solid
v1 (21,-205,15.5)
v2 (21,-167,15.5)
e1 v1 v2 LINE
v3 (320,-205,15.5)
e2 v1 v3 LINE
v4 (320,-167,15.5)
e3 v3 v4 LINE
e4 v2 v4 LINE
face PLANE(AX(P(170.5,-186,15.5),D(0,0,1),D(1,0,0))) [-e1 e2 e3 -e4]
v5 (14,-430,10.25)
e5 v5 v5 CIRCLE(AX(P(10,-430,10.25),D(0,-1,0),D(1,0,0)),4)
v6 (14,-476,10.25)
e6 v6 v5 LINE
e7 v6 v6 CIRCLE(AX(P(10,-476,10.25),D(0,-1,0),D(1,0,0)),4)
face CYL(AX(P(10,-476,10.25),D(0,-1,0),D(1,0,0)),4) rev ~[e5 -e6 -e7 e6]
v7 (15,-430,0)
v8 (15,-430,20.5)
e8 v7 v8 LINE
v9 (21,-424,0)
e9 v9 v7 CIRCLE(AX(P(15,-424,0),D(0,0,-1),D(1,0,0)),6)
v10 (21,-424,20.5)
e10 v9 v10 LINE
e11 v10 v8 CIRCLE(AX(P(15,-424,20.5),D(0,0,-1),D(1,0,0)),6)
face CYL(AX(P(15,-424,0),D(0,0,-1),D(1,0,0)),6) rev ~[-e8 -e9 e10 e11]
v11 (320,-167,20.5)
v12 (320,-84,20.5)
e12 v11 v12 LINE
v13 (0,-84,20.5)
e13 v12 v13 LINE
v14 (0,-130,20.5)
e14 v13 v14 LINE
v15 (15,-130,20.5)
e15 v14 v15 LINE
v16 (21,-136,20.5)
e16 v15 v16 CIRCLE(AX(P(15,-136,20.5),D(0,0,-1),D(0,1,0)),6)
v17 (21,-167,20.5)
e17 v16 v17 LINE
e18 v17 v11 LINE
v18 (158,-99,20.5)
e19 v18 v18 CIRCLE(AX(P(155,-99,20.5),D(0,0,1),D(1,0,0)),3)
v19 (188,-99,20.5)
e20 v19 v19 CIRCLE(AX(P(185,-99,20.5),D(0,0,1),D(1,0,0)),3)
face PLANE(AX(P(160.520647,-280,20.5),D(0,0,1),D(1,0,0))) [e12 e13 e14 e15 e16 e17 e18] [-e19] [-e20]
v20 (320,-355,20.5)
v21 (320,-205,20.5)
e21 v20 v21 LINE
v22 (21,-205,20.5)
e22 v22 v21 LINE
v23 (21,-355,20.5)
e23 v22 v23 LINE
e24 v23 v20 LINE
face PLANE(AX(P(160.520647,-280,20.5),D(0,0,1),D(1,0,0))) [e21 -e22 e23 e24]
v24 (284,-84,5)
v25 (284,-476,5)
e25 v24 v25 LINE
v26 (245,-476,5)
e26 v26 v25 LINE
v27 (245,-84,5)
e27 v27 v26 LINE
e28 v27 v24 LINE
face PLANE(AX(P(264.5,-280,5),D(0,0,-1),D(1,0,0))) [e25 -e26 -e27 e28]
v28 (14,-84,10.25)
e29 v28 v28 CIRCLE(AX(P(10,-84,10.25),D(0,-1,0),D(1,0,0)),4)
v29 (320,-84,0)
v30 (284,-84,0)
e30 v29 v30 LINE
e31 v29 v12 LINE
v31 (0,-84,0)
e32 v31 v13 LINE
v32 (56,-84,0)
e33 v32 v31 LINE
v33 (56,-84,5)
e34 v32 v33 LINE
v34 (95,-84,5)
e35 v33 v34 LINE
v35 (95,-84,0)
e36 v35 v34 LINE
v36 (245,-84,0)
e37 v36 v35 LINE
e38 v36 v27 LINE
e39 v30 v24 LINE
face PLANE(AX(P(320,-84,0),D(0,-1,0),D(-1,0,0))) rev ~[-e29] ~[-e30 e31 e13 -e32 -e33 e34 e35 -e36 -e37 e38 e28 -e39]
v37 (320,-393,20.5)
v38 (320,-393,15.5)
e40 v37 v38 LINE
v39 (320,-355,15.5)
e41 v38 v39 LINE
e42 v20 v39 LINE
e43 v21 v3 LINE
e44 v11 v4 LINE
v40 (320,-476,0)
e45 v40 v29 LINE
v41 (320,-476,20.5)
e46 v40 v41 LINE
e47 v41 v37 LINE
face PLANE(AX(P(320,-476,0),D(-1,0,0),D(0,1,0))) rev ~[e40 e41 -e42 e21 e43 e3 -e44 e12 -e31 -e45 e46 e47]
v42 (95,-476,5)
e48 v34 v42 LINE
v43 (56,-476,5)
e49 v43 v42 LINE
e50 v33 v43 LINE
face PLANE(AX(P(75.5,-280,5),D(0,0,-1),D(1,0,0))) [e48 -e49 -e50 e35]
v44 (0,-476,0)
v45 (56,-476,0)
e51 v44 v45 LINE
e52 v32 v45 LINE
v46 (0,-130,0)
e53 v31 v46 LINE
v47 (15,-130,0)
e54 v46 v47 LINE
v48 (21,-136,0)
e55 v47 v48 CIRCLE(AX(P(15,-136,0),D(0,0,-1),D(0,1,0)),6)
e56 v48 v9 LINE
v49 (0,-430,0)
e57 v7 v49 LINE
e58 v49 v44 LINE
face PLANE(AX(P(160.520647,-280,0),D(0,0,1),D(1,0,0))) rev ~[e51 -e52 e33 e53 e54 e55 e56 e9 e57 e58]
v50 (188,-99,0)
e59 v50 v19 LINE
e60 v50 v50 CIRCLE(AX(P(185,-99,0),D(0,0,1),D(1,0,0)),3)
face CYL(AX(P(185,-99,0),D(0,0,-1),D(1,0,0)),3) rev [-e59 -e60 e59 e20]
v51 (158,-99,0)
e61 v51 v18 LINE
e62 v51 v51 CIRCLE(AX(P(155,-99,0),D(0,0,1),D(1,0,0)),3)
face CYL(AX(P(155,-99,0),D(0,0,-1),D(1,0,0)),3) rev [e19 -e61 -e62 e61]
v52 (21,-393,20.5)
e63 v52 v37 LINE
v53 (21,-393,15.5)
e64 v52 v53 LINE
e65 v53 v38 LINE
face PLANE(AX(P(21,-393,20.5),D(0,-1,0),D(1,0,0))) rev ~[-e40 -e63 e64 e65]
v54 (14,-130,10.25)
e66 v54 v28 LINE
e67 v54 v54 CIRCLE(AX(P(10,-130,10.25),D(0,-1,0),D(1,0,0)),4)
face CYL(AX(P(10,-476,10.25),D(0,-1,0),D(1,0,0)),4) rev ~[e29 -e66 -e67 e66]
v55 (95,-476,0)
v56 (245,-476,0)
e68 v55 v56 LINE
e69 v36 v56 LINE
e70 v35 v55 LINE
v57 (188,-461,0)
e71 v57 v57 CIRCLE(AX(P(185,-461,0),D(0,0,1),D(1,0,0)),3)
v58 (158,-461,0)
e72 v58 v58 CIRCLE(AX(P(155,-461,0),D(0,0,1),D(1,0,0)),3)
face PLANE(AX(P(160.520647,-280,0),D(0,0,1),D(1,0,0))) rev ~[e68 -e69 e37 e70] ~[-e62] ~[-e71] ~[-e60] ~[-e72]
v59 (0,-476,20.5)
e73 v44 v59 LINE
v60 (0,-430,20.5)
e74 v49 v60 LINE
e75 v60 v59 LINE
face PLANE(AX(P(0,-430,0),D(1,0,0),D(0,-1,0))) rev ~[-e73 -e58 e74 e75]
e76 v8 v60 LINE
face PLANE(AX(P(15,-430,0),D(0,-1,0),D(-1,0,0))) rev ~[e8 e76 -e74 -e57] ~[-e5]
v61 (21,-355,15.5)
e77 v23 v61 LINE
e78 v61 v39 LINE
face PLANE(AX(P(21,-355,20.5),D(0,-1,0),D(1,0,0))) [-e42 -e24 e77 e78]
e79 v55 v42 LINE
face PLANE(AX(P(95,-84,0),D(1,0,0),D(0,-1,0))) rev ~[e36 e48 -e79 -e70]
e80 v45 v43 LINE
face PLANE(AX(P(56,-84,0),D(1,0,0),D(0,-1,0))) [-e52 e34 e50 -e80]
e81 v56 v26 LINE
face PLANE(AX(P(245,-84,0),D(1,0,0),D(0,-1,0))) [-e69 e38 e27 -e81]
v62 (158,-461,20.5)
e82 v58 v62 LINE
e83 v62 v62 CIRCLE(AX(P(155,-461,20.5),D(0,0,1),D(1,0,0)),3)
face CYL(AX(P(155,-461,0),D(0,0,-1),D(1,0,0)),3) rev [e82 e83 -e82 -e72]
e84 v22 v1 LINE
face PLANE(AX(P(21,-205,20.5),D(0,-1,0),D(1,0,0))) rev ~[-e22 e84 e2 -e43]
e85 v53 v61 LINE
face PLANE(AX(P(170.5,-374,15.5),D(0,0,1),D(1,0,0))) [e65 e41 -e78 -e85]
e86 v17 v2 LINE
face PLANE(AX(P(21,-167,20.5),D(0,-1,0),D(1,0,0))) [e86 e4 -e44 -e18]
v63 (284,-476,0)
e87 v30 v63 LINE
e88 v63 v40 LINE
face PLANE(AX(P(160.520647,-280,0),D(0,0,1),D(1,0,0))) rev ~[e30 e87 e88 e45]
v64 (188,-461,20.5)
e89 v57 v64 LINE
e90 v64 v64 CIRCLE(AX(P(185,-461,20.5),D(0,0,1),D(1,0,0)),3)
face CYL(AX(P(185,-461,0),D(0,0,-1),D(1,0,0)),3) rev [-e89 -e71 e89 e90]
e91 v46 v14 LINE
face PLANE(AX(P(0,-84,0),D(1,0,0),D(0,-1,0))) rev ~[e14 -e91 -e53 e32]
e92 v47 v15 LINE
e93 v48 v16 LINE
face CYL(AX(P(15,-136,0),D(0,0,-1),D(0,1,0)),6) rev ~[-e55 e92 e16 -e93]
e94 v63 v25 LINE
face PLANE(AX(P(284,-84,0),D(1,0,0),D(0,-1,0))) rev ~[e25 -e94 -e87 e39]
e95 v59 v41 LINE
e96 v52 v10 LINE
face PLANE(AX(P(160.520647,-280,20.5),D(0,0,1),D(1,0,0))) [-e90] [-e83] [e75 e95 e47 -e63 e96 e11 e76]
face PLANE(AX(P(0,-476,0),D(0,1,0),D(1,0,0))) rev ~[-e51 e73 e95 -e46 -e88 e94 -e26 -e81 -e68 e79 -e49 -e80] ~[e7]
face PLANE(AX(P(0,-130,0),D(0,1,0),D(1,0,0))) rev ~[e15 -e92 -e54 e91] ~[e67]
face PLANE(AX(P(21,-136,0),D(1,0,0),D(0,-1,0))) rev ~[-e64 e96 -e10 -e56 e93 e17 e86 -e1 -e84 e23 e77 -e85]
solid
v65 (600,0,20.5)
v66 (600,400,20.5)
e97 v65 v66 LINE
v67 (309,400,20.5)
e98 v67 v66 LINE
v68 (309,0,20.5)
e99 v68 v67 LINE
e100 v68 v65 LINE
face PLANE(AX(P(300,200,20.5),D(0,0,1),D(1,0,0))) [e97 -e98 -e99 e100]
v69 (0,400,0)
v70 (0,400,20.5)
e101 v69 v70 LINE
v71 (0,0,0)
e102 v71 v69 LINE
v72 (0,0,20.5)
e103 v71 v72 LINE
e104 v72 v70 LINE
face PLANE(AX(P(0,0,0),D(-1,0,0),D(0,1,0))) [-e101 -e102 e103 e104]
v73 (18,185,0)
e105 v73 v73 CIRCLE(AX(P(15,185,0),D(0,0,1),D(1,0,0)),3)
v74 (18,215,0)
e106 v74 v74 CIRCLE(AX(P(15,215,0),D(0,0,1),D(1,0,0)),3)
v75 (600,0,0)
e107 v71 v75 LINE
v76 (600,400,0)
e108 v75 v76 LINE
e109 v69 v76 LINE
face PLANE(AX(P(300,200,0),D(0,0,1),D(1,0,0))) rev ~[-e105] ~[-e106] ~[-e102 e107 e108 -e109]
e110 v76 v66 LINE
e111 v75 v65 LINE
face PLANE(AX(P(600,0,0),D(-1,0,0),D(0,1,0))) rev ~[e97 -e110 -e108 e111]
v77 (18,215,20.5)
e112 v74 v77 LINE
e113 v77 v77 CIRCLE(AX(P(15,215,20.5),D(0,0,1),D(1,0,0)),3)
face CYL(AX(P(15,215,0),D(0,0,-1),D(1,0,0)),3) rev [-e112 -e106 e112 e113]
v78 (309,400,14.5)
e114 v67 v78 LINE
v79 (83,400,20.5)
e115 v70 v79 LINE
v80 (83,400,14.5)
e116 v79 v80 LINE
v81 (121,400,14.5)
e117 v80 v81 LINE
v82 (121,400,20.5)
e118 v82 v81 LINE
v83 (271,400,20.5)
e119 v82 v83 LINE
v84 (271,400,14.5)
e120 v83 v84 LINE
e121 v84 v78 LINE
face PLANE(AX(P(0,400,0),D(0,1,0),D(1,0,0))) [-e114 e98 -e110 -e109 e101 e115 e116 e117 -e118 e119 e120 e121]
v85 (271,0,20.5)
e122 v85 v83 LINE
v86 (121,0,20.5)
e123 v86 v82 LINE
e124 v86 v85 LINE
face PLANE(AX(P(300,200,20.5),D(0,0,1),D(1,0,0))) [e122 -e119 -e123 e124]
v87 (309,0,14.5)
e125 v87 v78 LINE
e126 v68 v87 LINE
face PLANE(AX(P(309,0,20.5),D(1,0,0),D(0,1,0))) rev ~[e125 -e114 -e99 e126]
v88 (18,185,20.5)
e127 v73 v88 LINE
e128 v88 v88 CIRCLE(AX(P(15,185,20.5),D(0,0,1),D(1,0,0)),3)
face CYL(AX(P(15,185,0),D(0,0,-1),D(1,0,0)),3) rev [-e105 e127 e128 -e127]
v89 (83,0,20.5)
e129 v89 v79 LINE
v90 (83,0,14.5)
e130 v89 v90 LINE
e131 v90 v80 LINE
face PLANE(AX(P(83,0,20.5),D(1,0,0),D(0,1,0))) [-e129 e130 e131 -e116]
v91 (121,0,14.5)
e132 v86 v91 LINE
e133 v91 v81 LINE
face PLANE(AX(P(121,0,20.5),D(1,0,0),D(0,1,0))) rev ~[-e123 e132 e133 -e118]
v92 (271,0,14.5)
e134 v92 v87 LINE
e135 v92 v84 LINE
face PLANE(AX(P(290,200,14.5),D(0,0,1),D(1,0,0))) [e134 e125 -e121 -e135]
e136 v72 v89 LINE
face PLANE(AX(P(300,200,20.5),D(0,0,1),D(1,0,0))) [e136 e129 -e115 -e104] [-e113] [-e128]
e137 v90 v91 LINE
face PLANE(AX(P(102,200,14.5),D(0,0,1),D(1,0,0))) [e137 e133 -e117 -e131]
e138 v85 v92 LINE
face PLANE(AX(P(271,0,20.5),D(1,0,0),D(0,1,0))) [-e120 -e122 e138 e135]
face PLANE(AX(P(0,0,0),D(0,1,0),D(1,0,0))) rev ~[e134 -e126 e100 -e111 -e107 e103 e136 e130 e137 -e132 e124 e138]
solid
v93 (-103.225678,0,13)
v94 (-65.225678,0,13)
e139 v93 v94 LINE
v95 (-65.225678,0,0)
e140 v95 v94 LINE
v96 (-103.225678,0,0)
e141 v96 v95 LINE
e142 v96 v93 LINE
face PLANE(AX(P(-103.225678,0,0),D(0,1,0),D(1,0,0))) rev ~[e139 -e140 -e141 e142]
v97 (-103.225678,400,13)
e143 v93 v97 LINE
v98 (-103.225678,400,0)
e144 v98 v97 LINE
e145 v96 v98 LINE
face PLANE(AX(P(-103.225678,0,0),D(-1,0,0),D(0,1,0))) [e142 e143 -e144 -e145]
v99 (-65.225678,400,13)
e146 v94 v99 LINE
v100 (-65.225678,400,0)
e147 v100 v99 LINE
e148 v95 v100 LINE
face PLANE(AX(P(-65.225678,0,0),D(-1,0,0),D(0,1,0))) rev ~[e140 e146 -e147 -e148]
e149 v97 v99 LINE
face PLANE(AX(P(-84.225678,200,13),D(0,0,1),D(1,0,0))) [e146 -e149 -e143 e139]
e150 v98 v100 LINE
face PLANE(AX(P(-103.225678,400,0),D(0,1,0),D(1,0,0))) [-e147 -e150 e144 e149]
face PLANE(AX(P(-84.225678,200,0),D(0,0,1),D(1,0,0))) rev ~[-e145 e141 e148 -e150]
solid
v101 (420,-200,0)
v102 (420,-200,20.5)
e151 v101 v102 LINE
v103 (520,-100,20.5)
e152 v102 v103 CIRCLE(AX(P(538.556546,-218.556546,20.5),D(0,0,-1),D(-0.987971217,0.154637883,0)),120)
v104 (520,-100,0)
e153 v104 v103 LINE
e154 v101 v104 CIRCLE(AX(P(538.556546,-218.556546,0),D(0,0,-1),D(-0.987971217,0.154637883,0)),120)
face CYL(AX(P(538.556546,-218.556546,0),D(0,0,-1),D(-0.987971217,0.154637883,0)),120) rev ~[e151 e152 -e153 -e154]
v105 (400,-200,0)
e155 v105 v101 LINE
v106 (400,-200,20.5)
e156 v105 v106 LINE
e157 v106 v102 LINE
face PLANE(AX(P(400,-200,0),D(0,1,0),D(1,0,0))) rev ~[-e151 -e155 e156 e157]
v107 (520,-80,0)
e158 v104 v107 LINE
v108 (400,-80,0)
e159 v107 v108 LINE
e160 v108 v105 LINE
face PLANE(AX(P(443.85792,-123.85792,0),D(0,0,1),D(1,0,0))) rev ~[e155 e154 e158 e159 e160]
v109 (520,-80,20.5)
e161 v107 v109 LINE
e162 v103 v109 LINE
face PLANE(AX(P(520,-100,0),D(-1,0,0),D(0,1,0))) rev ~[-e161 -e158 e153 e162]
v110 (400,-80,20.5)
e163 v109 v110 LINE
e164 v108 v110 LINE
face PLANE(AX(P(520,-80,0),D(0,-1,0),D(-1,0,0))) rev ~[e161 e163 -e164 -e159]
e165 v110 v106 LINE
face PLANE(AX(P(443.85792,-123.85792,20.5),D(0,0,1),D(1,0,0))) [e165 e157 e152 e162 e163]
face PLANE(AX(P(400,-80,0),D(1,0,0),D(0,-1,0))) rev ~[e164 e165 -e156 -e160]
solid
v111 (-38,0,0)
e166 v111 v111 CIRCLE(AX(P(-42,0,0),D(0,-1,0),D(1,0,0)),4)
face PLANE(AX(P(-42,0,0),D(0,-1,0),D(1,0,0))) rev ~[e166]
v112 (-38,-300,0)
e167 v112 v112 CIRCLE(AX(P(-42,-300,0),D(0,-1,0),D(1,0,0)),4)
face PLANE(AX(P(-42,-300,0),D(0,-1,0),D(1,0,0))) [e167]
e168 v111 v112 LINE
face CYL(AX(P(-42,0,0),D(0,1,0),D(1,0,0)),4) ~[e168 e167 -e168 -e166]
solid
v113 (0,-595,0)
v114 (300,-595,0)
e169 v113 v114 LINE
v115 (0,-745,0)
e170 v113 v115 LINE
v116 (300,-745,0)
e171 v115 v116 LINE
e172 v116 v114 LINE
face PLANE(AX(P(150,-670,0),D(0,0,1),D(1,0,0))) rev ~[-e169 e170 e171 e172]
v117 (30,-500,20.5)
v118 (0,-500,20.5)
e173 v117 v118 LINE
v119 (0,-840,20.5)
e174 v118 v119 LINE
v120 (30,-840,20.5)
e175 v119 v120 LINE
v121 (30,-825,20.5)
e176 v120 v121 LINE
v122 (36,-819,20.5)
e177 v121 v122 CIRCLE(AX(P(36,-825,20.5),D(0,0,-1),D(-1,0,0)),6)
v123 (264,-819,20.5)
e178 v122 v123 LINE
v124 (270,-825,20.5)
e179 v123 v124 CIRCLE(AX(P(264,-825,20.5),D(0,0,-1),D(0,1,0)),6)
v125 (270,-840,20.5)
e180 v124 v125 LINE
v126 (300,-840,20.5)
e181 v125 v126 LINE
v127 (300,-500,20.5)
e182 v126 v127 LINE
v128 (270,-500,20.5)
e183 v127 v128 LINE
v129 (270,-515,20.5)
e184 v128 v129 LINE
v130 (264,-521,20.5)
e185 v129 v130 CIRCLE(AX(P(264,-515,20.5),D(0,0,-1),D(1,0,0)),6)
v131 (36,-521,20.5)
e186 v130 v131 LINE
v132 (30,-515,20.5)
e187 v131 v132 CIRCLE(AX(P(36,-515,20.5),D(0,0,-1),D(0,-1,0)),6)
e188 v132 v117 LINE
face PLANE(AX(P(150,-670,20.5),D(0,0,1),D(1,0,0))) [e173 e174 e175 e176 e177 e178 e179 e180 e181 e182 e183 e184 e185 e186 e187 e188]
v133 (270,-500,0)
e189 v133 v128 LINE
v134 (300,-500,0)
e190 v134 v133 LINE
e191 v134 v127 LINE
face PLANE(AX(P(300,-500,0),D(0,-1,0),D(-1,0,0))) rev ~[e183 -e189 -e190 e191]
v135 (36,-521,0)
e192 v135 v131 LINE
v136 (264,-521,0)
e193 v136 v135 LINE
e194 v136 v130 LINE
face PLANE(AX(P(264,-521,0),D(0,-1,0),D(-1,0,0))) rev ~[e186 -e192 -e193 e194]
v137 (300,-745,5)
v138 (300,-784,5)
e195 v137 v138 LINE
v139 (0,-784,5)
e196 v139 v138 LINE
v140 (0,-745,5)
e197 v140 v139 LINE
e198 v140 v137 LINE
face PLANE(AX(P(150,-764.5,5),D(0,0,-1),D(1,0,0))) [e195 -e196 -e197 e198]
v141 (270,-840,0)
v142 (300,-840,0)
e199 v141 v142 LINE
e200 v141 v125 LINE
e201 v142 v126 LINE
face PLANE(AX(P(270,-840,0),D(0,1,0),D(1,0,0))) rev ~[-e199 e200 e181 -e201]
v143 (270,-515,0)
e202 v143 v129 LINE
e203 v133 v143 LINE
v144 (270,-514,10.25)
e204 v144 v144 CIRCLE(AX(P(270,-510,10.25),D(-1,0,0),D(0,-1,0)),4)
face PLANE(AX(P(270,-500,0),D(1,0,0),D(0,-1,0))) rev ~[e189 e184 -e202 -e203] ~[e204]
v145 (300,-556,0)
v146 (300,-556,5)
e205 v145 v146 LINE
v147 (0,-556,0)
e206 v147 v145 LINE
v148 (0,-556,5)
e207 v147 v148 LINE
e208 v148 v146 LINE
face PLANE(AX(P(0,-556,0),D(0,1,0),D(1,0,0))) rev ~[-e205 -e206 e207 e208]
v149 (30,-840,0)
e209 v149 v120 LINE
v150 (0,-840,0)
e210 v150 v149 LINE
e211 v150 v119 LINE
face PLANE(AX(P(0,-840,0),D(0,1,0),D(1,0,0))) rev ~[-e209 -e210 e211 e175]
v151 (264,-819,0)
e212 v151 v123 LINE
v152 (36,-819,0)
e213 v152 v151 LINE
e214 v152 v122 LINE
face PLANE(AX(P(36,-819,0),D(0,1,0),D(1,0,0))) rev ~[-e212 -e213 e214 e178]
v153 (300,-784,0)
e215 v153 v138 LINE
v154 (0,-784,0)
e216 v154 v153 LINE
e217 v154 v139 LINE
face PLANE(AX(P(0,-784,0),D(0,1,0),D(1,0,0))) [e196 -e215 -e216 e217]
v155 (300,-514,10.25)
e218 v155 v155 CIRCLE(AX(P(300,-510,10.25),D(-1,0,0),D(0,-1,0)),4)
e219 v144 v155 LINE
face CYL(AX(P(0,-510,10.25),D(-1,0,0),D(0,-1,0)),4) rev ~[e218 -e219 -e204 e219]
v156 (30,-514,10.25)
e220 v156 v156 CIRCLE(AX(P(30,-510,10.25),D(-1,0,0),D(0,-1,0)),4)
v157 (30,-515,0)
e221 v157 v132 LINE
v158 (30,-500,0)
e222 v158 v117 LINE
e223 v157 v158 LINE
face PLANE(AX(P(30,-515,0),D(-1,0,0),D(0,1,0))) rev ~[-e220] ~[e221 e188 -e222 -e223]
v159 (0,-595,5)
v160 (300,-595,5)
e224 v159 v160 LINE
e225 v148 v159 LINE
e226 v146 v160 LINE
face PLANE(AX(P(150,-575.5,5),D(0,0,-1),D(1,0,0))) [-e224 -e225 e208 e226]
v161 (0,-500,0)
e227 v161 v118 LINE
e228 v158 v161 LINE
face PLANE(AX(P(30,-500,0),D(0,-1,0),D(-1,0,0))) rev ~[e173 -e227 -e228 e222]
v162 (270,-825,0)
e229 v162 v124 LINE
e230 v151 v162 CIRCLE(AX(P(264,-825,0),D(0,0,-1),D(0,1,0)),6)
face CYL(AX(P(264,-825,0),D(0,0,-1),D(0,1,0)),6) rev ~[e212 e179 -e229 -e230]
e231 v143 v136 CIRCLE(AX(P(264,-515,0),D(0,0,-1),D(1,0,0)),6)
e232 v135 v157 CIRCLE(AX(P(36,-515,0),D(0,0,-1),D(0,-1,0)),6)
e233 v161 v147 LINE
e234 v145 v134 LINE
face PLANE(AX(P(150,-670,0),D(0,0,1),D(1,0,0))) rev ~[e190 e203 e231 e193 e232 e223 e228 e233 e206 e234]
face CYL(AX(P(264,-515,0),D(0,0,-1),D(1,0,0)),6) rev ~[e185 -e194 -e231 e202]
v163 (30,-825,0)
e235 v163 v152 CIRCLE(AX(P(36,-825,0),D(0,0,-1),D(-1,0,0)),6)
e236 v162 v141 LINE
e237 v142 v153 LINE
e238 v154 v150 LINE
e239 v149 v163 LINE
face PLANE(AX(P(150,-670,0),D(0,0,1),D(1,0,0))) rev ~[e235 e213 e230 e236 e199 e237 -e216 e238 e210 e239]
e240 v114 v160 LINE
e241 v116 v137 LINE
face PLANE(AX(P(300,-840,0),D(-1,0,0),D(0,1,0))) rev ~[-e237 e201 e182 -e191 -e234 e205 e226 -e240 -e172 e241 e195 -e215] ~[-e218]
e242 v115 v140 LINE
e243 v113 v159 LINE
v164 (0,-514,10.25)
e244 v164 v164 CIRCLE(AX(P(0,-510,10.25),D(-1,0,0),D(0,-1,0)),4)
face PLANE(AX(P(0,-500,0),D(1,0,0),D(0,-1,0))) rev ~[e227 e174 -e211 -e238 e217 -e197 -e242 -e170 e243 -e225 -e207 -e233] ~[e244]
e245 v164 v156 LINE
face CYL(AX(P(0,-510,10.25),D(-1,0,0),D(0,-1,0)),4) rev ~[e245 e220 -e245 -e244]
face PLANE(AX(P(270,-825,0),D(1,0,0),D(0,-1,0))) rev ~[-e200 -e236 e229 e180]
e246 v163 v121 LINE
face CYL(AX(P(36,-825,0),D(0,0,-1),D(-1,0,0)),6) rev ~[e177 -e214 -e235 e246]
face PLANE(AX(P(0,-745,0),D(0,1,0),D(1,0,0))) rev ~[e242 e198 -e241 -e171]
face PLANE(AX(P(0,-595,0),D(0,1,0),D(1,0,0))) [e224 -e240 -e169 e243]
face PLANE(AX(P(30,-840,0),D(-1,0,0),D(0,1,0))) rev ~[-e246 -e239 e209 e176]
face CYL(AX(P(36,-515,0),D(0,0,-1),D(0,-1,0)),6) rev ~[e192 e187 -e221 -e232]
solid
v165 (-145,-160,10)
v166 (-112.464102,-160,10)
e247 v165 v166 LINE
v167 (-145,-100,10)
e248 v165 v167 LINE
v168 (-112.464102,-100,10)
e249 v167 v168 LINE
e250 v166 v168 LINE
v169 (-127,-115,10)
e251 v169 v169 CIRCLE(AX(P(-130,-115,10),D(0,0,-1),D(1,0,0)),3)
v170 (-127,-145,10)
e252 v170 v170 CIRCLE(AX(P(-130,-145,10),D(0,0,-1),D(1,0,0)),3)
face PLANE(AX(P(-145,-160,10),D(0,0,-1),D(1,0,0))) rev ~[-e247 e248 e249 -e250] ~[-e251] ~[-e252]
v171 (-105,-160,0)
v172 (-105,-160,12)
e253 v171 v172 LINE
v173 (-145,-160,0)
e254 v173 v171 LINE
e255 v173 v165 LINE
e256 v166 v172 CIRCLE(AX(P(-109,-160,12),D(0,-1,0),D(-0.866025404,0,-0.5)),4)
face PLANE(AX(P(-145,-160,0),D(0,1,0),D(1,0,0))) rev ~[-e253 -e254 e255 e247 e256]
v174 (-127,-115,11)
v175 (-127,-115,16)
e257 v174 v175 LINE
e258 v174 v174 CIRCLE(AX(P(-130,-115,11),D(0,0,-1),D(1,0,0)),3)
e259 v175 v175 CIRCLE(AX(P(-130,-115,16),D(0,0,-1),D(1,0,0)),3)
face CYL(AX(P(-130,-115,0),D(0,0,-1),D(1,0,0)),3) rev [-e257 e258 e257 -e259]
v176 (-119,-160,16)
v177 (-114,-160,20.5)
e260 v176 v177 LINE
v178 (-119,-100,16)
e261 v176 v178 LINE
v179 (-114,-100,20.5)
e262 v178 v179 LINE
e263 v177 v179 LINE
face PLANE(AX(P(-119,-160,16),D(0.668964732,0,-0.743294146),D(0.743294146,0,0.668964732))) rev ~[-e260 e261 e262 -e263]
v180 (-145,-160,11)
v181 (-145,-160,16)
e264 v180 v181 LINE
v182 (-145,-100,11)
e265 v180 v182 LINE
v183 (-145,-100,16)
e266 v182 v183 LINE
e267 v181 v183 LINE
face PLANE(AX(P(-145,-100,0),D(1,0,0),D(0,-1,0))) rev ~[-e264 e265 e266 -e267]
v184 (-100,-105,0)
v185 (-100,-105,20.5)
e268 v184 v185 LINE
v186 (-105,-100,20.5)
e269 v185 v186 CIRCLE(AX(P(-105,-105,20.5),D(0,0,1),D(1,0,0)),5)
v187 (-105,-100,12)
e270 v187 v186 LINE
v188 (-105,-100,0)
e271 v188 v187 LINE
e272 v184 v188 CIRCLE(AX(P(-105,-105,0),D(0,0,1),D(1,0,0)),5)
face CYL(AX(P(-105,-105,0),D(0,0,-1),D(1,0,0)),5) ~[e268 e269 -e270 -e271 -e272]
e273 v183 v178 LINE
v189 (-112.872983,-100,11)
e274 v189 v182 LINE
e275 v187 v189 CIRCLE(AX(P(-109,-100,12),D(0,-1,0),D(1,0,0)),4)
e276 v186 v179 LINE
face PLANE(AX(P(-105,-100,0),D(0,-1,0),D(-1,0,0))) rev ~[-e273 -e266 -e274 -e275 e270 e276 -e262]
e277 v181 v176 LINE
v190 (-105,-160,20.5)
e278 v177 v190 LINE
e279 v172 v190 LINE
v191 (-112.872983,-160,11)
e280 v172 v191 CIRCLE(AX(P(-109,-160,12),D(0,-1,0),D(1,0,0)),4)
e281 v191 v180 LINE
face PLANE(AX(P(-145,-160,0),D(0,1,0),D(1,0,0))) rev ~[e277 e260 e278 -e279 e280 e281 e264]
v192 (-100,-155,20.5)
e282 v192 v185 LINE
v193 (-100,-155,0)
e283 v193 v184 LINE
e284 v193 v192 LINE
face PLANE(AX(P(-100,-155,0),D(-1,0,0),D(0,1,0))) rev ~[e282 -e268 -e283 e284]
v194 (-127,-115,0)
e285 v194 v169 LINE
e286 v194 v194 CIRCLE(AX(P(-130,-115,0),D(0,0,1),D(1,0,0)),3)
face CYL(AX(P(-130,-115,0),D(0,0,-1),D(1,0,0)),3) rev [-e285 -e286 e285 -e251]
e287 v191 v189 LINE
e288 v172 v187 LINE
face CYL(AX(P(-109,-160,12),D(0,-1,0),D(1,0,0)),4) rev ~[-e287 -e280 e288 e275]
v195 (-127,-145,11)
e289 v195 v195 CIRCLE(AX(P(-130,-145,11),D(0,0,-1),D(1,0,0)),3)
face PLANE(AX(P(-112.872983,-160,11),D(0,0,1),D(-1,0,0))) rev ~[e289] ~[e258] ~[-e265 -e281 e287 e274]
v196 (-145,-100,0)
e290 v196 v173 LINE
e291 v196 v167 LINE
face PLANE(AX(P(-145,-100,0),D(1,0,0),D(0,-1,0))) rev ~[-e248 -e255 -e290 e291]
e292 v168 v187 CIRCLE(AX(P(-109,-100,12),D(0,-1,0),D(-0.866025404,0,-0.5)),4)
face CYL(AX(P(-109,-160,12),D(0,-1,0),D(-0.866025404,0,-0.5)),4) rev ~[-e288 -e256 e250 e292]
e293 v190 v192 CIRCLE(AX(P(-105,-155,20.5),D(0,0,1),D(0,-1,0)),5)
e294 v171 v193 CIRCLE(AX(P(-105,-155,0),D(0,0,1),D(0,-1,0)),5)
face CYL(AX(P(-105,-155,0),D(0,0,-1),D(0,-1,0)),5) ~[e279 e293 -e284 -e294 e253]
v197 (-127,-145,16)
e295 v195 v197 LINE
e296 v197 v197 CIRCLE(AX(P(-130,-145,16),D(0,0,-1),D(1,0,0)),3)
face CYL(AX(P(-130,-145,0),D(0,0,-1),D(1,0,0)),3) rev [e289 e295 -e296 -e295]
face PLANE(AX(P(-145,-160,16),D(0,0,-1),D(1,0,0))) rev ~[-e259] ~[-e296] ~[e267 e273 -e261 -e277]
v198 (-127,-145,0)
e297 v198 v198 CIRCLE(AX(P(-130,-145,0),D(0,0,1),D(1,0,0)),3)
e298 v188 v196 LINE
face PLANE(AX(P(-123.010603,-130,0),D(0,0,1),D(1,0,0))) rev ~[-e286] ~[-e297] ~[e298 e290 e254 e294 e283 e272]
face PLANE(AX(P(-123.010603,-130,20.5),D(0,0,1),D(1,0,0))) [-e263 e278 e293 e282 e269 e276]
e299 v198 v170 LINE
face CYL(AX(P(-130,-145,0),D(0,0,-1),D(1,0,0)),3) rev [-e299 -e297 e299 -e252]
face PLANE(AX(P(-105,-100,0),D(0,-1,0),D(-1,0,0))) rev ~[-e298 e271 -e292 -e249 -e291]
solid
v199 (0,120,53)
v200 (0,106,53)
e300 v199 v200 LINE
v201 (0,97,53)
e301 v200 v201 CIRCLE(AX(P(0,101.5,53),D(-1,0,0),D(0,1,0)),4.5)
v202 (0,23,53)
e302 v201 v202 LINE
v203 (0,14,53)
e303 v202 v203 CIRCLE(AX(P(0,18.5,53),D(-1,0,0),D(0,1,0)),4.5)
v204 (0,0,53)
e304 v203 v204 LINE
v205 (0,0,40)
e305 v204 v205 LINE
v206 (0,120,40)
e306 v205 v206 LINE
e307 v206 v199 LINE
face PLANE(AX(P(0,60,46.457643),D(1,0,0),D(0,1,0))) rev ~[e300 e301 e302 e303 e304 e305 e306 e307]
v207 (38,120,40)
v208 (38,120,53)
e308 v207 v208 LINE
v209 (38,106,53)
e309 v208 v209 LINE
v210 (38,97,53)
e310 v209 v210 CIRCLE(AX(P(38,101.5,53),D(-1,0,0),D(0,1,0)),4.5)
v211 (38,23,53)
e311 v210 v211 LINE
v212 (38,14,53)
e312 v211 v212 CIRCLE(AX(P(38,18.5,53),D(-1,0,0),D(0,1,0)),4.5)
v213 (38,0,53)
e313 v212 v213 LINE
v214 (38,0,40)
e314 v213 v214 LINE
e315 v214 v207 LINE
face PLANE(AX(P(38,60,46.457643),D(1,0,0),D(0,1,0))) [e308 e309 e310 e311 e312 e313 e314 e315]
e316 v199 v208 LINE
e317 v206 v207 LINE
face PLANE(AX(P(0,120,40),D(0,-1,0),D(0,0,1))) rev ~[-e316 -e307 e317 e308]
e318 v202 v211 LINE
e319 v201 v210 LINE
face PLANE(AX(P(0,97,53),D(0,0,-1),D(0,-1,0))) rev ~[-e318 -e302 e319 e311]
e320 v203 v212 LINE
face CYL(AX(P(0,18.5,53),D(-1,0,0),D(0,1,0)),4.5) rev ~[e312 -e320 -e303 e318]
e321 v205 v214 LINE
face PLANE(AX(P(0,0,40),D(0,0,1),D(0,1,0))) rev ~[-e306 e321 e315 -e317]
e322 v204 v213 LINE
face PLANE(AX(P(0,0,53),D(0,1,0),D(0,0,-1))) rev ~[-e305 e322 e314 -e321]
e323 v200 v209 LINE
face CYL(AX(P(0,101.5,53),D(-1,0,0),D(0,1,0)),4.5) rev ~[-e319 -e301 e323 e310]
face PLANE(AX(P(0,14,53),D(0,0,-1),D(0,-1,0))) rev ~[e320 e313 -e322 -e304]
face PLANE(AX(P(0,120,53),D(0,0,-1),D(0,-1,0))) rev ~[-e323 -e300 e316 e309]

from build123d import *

# Parameters (mm, degrees)
F0_W      = 600
F0_H      = 400
F0_R      = 3
F1_DEPTH  = 20.5
F2_W      = 38
F2_H      = 400
F3_DEPTH  = 6
F4_W      = 38
F4_H      = 400
F5_DEPTH  = 13
F6_R      = 3
F7_DEPTH  = 20.5
F8_W      = 39
F8_H      = 392
F9_DEPTH  = 5
F10_W     = 299
F10_H     = 38
F11_DEPTH = 5
F13_DEPTH = 20.5
F14_W     = 300
F14_H     = 39
F15_DEPTH = 5
F16_R     = 4
F17_DEPTH = 392
F18_R     = 3
F19_DEPTH = 20.5
F21_DEPTH = 60
F22_R     = 4
F23_DEPTH = 300
F24_R     = 4
F25_DEPTH = 300
F27_DEPTH = 20.5
F29_DEPTH = 38


with BuildPart() as f1:
    # F0 (on Top) → F1 (new body)
    with BuildSketch(Plane.XY):
        with Locations((300, 200)):
            Rectangle(F0_W, F0_H)
        with Locations((15, 185)):
            Circle(F0_R, mode=Mode.SUBTRACT)
        with Locations((15, 215)):
            Circle(F0_R, mode=Mode.SUBTRACT)
    extrude(amount=F1_DEPTH)

    # F2 (on face) → F3 (cut)
    with BuildSketch(Plane.XY.offset(20.5)):
        with Locations((290, 200)):
            Rectangle(F2_W, F2_H)
        with Locations((102, 200)):
            Rectangle(F2_W, F2_H)
    extrude(amount=-F3_DEPTH, mode=Mode.SUBTRACT)


with BuildPart() as f5:
    # F4 (on Top) → F5 (new body)
    with BuildSketch(Plane.XY):
        with Locations((-84.2256782055, 200)):
            Rectangle(F4_W, F4_H)
    extrude(amount=F5_DEPTH)


with BuildPart() as f7:
    # F6 (on Top) → F7 (new body)
    with BuildSketch(Plane.XY):
        with BuildLine():
            Line((320, -84), (0, -84))
            Line((0, -84), (0, -130))
            Line((0, -130), (15, -130))
            ThreePointArc((15, -130), (19.2426406871, -131.7573593129), (21, -136))
            Line((21, -136), (21, -424))
            ThreePointArc((21, -424), (19.2426406871, -428.2426406871), (15, -430))
            Line((15, -430), (0, -430))
            Line((0, -430), (0, -476))
            Line((0, -476), (320, -476))
            Line((320, -476), (320, -84))
        make_face()
        with Locations((155, -461)):
            Circle(F6_R, mode=Mode.SUBTRACT)
        with Locations((185, -461)):
            Circle(F6_R, mode=Mode.SUBTRACT)
        with Locations((155, -99)):
            Circle(F6_R, mode=Mode.SUBTRACT)
        with Locations((185, -99)):
            Circle(F6_R, mode=Mode.SUBTRACT)
    extrude(amount=F7_DEPTH)

    # F8 (on face) → F9 (cut)
    with BuildSketch(Plane(origin=(0, 0, 0), x_dir=(1, 0, 0), z_dir=(0, 0, -1))):
        with Locations((264.5, 280)):
            Rectangle(F8_W, F8_H)
        with Locations((75.5, 280)):
            Rectangle(F8_W, F8_H)
    extrude(amount=-F9_DEPTH, mode=Mode.SUBTRACT)

    # F10 (on face) → F11 (cut)
    with BuildSketch(Plane.XY.offset(20.5)):
        with Locations((170.5, -186)):
            Rectangle(F10_W, F10_H)
        with Locations((170.5, -374)):
            Rectangle(F10_W, F10_H)
    extrude(amount=-F11_DEPTH, mode=Mode.SUBTRACT)

    # F16 (on face) → F17 (cut, through all)
    with BuildSketch(Plane.XZ.offset(476)):
        with Locations((10, 10.25)):
            Circle(F16_R)
    extrude(amount=-F17_DEPTH, mode=Mode.SUBTRACT)


with BuildPart() as f13:
    # F12 (on Top) → F13 (new body)
    with BuildSketch(Plane.XY):
        with BuildLine():
            Line((30, -500), (0, -500))
            Line((0, -500), (0, -840))
            Line((0, -840), (30, -840))
            Line((30, -840), (30, -825))
            ThreePointArc((30, -825), (31.7573593129, -820.7573593129), (36, -819))
            Line((36, -819), (264, -819))
            ThreePointArc((264, -819), (268.2426406871, -820.7573593129), (270, -825))
            Line((270, -825), (270, -840))
            Line((270, -840), (300, -840))
            Line((300, -840), (300, -500))
            Line((300, -500), (270, -500))
            Line((270, -500), (270, -515))
            ThreePointArc((270, -515), (268.2426406871, -519.2426406871), (264, -521))
            Line((264, -521), (36, -521))
            ThreePointArc((36, -521), (31.7573593129, -519.2426406871), (30, -515))
            Line((30, -515), (30, -500))
        make_face()
    extrude(amount=F13_DEPTH)

    # F14 (on face) → F15 (cut)
    with BuildSketch(Plane(origin=(0, 0, 0), x_dir=(1, 0, 0), z_dir=(0, 0, -1))):
        with Locations((150, 764.5)):
            Rectangle(F14_W, F14_H)
        with Locations((150, 575.5)):
            Rectangle(F14_W, F14_H)
    extrude(amount=-F15_DEPTH, mode=Mode.SUBTRACT)

    # F22 (on face) → F23 (cut, through all)
    with BuildSketch(Plane(origin=(0, 0, 0), x_dir=(0, -1, 0), z_dir=(-1, 0, 0))):
        with Locations((510, 10.25)):
            Circle(F22_R)
    extrude(amount=-F23_DEPTH, mode=Mode.SUBTRACT)


with BuildPart() as f19:
    # F18 (on Top) → F19 (new body)
    with BuildSketch(Plane.XY):
        with BuildLine():
            ThreePointArc((-100, -105), (-101.4644660941, -101.4644660941), (-105, -100))
            Line((-105, -100), (-145, -100))
            Line((-145, -100), (-145, -160))
            Line((-145, -160), (-105, -160))
            ThreePointArc((-105, -160), (-101.4644660941, -158.5355339059), (-100, -155))
            Line((-100, -155), (-100, -105))
        make_face()
        with Locations((-130, -145)):
            Circle(F18_R, mode=Mode.SUBTRACT)
        with Locations((-130, -115)):
            Circle(F18_R, mode=Mode.SUBTRACT)
    extrude(amount=F19_DEPTH)

    # F20 (on face) → F21 (cut, through all)
    with BuildSketch(Plane.XZ.offset(160)):
        with BuildLine():
            Line((-112.8729833462, 11), (-145, 11))
            Line((-145, 11), (-145, 10))
            Line((-145, 10), (-112.4641016151, 10))
            ThreePointArc((-112.4641016151, 10), (-107.9647238196, 8.1362966948), (-105, 12))
            ThreePointArc((-105, 12), (-109.5040171699, 15.9681187851), (-112.8729833462, 11))
        make_face()
        Polygon((-145, 20.5), (-145, 16), (-119, 16), (-114, 20.5), align=None)
    extrude(amount=-F21_DEPTH, mode=Mode.SUBTRACT)


with BuildPart() as f25:
    # F24 (on Front) → F25 (new body)
    with BuildSketch(Plane.XZ):
        with Locations((-42, 0)):
            Circle(F24_R)
    extrude(amount=F25_DEPTH)


with BuildPart() as f27:
    # F26 (on Top) → F27 (new body)
    with BuildSketch(Plane.XY):
        with BuildLine():
            Line((520, -80), (400, -80))
            Line((400, -80), (400, -200))
            Line((400, -200), (420, -200))
            ThreePointArc((420, -200), (453.7037322616, -133.7037322616), (520, -100))
            Line((520, -100), (520, -80))
        make_face()
    extrude(amount=F27_DEPTH)


with BuildPart() as f29:
    # F28 (on Right) → F29 (new body)
    with BuildSketch(Plane.YZ):
        with BuildLine():
            Line((0, 53), (0, 40))
            Line((0, 40), (120, 40))
            Line((120, 40), (120, 53))
            Line((120, 53), (106, 53))
            ThreePointArc((106, 53), (101.5, 48.5), (97, 53))
            Line((97, 53), (23, 53))
            ThreePointArc((23, 53), (18.5, 48.5), (14, 53))
            Line((14, 53), (0, 53))
        make_face()
    extrude(amount=F29_DEPTH)


solid = Compound([f1.part, f5.part, f7.part, f13.part, f19.part, f25.part, f27.part, f29.part])
